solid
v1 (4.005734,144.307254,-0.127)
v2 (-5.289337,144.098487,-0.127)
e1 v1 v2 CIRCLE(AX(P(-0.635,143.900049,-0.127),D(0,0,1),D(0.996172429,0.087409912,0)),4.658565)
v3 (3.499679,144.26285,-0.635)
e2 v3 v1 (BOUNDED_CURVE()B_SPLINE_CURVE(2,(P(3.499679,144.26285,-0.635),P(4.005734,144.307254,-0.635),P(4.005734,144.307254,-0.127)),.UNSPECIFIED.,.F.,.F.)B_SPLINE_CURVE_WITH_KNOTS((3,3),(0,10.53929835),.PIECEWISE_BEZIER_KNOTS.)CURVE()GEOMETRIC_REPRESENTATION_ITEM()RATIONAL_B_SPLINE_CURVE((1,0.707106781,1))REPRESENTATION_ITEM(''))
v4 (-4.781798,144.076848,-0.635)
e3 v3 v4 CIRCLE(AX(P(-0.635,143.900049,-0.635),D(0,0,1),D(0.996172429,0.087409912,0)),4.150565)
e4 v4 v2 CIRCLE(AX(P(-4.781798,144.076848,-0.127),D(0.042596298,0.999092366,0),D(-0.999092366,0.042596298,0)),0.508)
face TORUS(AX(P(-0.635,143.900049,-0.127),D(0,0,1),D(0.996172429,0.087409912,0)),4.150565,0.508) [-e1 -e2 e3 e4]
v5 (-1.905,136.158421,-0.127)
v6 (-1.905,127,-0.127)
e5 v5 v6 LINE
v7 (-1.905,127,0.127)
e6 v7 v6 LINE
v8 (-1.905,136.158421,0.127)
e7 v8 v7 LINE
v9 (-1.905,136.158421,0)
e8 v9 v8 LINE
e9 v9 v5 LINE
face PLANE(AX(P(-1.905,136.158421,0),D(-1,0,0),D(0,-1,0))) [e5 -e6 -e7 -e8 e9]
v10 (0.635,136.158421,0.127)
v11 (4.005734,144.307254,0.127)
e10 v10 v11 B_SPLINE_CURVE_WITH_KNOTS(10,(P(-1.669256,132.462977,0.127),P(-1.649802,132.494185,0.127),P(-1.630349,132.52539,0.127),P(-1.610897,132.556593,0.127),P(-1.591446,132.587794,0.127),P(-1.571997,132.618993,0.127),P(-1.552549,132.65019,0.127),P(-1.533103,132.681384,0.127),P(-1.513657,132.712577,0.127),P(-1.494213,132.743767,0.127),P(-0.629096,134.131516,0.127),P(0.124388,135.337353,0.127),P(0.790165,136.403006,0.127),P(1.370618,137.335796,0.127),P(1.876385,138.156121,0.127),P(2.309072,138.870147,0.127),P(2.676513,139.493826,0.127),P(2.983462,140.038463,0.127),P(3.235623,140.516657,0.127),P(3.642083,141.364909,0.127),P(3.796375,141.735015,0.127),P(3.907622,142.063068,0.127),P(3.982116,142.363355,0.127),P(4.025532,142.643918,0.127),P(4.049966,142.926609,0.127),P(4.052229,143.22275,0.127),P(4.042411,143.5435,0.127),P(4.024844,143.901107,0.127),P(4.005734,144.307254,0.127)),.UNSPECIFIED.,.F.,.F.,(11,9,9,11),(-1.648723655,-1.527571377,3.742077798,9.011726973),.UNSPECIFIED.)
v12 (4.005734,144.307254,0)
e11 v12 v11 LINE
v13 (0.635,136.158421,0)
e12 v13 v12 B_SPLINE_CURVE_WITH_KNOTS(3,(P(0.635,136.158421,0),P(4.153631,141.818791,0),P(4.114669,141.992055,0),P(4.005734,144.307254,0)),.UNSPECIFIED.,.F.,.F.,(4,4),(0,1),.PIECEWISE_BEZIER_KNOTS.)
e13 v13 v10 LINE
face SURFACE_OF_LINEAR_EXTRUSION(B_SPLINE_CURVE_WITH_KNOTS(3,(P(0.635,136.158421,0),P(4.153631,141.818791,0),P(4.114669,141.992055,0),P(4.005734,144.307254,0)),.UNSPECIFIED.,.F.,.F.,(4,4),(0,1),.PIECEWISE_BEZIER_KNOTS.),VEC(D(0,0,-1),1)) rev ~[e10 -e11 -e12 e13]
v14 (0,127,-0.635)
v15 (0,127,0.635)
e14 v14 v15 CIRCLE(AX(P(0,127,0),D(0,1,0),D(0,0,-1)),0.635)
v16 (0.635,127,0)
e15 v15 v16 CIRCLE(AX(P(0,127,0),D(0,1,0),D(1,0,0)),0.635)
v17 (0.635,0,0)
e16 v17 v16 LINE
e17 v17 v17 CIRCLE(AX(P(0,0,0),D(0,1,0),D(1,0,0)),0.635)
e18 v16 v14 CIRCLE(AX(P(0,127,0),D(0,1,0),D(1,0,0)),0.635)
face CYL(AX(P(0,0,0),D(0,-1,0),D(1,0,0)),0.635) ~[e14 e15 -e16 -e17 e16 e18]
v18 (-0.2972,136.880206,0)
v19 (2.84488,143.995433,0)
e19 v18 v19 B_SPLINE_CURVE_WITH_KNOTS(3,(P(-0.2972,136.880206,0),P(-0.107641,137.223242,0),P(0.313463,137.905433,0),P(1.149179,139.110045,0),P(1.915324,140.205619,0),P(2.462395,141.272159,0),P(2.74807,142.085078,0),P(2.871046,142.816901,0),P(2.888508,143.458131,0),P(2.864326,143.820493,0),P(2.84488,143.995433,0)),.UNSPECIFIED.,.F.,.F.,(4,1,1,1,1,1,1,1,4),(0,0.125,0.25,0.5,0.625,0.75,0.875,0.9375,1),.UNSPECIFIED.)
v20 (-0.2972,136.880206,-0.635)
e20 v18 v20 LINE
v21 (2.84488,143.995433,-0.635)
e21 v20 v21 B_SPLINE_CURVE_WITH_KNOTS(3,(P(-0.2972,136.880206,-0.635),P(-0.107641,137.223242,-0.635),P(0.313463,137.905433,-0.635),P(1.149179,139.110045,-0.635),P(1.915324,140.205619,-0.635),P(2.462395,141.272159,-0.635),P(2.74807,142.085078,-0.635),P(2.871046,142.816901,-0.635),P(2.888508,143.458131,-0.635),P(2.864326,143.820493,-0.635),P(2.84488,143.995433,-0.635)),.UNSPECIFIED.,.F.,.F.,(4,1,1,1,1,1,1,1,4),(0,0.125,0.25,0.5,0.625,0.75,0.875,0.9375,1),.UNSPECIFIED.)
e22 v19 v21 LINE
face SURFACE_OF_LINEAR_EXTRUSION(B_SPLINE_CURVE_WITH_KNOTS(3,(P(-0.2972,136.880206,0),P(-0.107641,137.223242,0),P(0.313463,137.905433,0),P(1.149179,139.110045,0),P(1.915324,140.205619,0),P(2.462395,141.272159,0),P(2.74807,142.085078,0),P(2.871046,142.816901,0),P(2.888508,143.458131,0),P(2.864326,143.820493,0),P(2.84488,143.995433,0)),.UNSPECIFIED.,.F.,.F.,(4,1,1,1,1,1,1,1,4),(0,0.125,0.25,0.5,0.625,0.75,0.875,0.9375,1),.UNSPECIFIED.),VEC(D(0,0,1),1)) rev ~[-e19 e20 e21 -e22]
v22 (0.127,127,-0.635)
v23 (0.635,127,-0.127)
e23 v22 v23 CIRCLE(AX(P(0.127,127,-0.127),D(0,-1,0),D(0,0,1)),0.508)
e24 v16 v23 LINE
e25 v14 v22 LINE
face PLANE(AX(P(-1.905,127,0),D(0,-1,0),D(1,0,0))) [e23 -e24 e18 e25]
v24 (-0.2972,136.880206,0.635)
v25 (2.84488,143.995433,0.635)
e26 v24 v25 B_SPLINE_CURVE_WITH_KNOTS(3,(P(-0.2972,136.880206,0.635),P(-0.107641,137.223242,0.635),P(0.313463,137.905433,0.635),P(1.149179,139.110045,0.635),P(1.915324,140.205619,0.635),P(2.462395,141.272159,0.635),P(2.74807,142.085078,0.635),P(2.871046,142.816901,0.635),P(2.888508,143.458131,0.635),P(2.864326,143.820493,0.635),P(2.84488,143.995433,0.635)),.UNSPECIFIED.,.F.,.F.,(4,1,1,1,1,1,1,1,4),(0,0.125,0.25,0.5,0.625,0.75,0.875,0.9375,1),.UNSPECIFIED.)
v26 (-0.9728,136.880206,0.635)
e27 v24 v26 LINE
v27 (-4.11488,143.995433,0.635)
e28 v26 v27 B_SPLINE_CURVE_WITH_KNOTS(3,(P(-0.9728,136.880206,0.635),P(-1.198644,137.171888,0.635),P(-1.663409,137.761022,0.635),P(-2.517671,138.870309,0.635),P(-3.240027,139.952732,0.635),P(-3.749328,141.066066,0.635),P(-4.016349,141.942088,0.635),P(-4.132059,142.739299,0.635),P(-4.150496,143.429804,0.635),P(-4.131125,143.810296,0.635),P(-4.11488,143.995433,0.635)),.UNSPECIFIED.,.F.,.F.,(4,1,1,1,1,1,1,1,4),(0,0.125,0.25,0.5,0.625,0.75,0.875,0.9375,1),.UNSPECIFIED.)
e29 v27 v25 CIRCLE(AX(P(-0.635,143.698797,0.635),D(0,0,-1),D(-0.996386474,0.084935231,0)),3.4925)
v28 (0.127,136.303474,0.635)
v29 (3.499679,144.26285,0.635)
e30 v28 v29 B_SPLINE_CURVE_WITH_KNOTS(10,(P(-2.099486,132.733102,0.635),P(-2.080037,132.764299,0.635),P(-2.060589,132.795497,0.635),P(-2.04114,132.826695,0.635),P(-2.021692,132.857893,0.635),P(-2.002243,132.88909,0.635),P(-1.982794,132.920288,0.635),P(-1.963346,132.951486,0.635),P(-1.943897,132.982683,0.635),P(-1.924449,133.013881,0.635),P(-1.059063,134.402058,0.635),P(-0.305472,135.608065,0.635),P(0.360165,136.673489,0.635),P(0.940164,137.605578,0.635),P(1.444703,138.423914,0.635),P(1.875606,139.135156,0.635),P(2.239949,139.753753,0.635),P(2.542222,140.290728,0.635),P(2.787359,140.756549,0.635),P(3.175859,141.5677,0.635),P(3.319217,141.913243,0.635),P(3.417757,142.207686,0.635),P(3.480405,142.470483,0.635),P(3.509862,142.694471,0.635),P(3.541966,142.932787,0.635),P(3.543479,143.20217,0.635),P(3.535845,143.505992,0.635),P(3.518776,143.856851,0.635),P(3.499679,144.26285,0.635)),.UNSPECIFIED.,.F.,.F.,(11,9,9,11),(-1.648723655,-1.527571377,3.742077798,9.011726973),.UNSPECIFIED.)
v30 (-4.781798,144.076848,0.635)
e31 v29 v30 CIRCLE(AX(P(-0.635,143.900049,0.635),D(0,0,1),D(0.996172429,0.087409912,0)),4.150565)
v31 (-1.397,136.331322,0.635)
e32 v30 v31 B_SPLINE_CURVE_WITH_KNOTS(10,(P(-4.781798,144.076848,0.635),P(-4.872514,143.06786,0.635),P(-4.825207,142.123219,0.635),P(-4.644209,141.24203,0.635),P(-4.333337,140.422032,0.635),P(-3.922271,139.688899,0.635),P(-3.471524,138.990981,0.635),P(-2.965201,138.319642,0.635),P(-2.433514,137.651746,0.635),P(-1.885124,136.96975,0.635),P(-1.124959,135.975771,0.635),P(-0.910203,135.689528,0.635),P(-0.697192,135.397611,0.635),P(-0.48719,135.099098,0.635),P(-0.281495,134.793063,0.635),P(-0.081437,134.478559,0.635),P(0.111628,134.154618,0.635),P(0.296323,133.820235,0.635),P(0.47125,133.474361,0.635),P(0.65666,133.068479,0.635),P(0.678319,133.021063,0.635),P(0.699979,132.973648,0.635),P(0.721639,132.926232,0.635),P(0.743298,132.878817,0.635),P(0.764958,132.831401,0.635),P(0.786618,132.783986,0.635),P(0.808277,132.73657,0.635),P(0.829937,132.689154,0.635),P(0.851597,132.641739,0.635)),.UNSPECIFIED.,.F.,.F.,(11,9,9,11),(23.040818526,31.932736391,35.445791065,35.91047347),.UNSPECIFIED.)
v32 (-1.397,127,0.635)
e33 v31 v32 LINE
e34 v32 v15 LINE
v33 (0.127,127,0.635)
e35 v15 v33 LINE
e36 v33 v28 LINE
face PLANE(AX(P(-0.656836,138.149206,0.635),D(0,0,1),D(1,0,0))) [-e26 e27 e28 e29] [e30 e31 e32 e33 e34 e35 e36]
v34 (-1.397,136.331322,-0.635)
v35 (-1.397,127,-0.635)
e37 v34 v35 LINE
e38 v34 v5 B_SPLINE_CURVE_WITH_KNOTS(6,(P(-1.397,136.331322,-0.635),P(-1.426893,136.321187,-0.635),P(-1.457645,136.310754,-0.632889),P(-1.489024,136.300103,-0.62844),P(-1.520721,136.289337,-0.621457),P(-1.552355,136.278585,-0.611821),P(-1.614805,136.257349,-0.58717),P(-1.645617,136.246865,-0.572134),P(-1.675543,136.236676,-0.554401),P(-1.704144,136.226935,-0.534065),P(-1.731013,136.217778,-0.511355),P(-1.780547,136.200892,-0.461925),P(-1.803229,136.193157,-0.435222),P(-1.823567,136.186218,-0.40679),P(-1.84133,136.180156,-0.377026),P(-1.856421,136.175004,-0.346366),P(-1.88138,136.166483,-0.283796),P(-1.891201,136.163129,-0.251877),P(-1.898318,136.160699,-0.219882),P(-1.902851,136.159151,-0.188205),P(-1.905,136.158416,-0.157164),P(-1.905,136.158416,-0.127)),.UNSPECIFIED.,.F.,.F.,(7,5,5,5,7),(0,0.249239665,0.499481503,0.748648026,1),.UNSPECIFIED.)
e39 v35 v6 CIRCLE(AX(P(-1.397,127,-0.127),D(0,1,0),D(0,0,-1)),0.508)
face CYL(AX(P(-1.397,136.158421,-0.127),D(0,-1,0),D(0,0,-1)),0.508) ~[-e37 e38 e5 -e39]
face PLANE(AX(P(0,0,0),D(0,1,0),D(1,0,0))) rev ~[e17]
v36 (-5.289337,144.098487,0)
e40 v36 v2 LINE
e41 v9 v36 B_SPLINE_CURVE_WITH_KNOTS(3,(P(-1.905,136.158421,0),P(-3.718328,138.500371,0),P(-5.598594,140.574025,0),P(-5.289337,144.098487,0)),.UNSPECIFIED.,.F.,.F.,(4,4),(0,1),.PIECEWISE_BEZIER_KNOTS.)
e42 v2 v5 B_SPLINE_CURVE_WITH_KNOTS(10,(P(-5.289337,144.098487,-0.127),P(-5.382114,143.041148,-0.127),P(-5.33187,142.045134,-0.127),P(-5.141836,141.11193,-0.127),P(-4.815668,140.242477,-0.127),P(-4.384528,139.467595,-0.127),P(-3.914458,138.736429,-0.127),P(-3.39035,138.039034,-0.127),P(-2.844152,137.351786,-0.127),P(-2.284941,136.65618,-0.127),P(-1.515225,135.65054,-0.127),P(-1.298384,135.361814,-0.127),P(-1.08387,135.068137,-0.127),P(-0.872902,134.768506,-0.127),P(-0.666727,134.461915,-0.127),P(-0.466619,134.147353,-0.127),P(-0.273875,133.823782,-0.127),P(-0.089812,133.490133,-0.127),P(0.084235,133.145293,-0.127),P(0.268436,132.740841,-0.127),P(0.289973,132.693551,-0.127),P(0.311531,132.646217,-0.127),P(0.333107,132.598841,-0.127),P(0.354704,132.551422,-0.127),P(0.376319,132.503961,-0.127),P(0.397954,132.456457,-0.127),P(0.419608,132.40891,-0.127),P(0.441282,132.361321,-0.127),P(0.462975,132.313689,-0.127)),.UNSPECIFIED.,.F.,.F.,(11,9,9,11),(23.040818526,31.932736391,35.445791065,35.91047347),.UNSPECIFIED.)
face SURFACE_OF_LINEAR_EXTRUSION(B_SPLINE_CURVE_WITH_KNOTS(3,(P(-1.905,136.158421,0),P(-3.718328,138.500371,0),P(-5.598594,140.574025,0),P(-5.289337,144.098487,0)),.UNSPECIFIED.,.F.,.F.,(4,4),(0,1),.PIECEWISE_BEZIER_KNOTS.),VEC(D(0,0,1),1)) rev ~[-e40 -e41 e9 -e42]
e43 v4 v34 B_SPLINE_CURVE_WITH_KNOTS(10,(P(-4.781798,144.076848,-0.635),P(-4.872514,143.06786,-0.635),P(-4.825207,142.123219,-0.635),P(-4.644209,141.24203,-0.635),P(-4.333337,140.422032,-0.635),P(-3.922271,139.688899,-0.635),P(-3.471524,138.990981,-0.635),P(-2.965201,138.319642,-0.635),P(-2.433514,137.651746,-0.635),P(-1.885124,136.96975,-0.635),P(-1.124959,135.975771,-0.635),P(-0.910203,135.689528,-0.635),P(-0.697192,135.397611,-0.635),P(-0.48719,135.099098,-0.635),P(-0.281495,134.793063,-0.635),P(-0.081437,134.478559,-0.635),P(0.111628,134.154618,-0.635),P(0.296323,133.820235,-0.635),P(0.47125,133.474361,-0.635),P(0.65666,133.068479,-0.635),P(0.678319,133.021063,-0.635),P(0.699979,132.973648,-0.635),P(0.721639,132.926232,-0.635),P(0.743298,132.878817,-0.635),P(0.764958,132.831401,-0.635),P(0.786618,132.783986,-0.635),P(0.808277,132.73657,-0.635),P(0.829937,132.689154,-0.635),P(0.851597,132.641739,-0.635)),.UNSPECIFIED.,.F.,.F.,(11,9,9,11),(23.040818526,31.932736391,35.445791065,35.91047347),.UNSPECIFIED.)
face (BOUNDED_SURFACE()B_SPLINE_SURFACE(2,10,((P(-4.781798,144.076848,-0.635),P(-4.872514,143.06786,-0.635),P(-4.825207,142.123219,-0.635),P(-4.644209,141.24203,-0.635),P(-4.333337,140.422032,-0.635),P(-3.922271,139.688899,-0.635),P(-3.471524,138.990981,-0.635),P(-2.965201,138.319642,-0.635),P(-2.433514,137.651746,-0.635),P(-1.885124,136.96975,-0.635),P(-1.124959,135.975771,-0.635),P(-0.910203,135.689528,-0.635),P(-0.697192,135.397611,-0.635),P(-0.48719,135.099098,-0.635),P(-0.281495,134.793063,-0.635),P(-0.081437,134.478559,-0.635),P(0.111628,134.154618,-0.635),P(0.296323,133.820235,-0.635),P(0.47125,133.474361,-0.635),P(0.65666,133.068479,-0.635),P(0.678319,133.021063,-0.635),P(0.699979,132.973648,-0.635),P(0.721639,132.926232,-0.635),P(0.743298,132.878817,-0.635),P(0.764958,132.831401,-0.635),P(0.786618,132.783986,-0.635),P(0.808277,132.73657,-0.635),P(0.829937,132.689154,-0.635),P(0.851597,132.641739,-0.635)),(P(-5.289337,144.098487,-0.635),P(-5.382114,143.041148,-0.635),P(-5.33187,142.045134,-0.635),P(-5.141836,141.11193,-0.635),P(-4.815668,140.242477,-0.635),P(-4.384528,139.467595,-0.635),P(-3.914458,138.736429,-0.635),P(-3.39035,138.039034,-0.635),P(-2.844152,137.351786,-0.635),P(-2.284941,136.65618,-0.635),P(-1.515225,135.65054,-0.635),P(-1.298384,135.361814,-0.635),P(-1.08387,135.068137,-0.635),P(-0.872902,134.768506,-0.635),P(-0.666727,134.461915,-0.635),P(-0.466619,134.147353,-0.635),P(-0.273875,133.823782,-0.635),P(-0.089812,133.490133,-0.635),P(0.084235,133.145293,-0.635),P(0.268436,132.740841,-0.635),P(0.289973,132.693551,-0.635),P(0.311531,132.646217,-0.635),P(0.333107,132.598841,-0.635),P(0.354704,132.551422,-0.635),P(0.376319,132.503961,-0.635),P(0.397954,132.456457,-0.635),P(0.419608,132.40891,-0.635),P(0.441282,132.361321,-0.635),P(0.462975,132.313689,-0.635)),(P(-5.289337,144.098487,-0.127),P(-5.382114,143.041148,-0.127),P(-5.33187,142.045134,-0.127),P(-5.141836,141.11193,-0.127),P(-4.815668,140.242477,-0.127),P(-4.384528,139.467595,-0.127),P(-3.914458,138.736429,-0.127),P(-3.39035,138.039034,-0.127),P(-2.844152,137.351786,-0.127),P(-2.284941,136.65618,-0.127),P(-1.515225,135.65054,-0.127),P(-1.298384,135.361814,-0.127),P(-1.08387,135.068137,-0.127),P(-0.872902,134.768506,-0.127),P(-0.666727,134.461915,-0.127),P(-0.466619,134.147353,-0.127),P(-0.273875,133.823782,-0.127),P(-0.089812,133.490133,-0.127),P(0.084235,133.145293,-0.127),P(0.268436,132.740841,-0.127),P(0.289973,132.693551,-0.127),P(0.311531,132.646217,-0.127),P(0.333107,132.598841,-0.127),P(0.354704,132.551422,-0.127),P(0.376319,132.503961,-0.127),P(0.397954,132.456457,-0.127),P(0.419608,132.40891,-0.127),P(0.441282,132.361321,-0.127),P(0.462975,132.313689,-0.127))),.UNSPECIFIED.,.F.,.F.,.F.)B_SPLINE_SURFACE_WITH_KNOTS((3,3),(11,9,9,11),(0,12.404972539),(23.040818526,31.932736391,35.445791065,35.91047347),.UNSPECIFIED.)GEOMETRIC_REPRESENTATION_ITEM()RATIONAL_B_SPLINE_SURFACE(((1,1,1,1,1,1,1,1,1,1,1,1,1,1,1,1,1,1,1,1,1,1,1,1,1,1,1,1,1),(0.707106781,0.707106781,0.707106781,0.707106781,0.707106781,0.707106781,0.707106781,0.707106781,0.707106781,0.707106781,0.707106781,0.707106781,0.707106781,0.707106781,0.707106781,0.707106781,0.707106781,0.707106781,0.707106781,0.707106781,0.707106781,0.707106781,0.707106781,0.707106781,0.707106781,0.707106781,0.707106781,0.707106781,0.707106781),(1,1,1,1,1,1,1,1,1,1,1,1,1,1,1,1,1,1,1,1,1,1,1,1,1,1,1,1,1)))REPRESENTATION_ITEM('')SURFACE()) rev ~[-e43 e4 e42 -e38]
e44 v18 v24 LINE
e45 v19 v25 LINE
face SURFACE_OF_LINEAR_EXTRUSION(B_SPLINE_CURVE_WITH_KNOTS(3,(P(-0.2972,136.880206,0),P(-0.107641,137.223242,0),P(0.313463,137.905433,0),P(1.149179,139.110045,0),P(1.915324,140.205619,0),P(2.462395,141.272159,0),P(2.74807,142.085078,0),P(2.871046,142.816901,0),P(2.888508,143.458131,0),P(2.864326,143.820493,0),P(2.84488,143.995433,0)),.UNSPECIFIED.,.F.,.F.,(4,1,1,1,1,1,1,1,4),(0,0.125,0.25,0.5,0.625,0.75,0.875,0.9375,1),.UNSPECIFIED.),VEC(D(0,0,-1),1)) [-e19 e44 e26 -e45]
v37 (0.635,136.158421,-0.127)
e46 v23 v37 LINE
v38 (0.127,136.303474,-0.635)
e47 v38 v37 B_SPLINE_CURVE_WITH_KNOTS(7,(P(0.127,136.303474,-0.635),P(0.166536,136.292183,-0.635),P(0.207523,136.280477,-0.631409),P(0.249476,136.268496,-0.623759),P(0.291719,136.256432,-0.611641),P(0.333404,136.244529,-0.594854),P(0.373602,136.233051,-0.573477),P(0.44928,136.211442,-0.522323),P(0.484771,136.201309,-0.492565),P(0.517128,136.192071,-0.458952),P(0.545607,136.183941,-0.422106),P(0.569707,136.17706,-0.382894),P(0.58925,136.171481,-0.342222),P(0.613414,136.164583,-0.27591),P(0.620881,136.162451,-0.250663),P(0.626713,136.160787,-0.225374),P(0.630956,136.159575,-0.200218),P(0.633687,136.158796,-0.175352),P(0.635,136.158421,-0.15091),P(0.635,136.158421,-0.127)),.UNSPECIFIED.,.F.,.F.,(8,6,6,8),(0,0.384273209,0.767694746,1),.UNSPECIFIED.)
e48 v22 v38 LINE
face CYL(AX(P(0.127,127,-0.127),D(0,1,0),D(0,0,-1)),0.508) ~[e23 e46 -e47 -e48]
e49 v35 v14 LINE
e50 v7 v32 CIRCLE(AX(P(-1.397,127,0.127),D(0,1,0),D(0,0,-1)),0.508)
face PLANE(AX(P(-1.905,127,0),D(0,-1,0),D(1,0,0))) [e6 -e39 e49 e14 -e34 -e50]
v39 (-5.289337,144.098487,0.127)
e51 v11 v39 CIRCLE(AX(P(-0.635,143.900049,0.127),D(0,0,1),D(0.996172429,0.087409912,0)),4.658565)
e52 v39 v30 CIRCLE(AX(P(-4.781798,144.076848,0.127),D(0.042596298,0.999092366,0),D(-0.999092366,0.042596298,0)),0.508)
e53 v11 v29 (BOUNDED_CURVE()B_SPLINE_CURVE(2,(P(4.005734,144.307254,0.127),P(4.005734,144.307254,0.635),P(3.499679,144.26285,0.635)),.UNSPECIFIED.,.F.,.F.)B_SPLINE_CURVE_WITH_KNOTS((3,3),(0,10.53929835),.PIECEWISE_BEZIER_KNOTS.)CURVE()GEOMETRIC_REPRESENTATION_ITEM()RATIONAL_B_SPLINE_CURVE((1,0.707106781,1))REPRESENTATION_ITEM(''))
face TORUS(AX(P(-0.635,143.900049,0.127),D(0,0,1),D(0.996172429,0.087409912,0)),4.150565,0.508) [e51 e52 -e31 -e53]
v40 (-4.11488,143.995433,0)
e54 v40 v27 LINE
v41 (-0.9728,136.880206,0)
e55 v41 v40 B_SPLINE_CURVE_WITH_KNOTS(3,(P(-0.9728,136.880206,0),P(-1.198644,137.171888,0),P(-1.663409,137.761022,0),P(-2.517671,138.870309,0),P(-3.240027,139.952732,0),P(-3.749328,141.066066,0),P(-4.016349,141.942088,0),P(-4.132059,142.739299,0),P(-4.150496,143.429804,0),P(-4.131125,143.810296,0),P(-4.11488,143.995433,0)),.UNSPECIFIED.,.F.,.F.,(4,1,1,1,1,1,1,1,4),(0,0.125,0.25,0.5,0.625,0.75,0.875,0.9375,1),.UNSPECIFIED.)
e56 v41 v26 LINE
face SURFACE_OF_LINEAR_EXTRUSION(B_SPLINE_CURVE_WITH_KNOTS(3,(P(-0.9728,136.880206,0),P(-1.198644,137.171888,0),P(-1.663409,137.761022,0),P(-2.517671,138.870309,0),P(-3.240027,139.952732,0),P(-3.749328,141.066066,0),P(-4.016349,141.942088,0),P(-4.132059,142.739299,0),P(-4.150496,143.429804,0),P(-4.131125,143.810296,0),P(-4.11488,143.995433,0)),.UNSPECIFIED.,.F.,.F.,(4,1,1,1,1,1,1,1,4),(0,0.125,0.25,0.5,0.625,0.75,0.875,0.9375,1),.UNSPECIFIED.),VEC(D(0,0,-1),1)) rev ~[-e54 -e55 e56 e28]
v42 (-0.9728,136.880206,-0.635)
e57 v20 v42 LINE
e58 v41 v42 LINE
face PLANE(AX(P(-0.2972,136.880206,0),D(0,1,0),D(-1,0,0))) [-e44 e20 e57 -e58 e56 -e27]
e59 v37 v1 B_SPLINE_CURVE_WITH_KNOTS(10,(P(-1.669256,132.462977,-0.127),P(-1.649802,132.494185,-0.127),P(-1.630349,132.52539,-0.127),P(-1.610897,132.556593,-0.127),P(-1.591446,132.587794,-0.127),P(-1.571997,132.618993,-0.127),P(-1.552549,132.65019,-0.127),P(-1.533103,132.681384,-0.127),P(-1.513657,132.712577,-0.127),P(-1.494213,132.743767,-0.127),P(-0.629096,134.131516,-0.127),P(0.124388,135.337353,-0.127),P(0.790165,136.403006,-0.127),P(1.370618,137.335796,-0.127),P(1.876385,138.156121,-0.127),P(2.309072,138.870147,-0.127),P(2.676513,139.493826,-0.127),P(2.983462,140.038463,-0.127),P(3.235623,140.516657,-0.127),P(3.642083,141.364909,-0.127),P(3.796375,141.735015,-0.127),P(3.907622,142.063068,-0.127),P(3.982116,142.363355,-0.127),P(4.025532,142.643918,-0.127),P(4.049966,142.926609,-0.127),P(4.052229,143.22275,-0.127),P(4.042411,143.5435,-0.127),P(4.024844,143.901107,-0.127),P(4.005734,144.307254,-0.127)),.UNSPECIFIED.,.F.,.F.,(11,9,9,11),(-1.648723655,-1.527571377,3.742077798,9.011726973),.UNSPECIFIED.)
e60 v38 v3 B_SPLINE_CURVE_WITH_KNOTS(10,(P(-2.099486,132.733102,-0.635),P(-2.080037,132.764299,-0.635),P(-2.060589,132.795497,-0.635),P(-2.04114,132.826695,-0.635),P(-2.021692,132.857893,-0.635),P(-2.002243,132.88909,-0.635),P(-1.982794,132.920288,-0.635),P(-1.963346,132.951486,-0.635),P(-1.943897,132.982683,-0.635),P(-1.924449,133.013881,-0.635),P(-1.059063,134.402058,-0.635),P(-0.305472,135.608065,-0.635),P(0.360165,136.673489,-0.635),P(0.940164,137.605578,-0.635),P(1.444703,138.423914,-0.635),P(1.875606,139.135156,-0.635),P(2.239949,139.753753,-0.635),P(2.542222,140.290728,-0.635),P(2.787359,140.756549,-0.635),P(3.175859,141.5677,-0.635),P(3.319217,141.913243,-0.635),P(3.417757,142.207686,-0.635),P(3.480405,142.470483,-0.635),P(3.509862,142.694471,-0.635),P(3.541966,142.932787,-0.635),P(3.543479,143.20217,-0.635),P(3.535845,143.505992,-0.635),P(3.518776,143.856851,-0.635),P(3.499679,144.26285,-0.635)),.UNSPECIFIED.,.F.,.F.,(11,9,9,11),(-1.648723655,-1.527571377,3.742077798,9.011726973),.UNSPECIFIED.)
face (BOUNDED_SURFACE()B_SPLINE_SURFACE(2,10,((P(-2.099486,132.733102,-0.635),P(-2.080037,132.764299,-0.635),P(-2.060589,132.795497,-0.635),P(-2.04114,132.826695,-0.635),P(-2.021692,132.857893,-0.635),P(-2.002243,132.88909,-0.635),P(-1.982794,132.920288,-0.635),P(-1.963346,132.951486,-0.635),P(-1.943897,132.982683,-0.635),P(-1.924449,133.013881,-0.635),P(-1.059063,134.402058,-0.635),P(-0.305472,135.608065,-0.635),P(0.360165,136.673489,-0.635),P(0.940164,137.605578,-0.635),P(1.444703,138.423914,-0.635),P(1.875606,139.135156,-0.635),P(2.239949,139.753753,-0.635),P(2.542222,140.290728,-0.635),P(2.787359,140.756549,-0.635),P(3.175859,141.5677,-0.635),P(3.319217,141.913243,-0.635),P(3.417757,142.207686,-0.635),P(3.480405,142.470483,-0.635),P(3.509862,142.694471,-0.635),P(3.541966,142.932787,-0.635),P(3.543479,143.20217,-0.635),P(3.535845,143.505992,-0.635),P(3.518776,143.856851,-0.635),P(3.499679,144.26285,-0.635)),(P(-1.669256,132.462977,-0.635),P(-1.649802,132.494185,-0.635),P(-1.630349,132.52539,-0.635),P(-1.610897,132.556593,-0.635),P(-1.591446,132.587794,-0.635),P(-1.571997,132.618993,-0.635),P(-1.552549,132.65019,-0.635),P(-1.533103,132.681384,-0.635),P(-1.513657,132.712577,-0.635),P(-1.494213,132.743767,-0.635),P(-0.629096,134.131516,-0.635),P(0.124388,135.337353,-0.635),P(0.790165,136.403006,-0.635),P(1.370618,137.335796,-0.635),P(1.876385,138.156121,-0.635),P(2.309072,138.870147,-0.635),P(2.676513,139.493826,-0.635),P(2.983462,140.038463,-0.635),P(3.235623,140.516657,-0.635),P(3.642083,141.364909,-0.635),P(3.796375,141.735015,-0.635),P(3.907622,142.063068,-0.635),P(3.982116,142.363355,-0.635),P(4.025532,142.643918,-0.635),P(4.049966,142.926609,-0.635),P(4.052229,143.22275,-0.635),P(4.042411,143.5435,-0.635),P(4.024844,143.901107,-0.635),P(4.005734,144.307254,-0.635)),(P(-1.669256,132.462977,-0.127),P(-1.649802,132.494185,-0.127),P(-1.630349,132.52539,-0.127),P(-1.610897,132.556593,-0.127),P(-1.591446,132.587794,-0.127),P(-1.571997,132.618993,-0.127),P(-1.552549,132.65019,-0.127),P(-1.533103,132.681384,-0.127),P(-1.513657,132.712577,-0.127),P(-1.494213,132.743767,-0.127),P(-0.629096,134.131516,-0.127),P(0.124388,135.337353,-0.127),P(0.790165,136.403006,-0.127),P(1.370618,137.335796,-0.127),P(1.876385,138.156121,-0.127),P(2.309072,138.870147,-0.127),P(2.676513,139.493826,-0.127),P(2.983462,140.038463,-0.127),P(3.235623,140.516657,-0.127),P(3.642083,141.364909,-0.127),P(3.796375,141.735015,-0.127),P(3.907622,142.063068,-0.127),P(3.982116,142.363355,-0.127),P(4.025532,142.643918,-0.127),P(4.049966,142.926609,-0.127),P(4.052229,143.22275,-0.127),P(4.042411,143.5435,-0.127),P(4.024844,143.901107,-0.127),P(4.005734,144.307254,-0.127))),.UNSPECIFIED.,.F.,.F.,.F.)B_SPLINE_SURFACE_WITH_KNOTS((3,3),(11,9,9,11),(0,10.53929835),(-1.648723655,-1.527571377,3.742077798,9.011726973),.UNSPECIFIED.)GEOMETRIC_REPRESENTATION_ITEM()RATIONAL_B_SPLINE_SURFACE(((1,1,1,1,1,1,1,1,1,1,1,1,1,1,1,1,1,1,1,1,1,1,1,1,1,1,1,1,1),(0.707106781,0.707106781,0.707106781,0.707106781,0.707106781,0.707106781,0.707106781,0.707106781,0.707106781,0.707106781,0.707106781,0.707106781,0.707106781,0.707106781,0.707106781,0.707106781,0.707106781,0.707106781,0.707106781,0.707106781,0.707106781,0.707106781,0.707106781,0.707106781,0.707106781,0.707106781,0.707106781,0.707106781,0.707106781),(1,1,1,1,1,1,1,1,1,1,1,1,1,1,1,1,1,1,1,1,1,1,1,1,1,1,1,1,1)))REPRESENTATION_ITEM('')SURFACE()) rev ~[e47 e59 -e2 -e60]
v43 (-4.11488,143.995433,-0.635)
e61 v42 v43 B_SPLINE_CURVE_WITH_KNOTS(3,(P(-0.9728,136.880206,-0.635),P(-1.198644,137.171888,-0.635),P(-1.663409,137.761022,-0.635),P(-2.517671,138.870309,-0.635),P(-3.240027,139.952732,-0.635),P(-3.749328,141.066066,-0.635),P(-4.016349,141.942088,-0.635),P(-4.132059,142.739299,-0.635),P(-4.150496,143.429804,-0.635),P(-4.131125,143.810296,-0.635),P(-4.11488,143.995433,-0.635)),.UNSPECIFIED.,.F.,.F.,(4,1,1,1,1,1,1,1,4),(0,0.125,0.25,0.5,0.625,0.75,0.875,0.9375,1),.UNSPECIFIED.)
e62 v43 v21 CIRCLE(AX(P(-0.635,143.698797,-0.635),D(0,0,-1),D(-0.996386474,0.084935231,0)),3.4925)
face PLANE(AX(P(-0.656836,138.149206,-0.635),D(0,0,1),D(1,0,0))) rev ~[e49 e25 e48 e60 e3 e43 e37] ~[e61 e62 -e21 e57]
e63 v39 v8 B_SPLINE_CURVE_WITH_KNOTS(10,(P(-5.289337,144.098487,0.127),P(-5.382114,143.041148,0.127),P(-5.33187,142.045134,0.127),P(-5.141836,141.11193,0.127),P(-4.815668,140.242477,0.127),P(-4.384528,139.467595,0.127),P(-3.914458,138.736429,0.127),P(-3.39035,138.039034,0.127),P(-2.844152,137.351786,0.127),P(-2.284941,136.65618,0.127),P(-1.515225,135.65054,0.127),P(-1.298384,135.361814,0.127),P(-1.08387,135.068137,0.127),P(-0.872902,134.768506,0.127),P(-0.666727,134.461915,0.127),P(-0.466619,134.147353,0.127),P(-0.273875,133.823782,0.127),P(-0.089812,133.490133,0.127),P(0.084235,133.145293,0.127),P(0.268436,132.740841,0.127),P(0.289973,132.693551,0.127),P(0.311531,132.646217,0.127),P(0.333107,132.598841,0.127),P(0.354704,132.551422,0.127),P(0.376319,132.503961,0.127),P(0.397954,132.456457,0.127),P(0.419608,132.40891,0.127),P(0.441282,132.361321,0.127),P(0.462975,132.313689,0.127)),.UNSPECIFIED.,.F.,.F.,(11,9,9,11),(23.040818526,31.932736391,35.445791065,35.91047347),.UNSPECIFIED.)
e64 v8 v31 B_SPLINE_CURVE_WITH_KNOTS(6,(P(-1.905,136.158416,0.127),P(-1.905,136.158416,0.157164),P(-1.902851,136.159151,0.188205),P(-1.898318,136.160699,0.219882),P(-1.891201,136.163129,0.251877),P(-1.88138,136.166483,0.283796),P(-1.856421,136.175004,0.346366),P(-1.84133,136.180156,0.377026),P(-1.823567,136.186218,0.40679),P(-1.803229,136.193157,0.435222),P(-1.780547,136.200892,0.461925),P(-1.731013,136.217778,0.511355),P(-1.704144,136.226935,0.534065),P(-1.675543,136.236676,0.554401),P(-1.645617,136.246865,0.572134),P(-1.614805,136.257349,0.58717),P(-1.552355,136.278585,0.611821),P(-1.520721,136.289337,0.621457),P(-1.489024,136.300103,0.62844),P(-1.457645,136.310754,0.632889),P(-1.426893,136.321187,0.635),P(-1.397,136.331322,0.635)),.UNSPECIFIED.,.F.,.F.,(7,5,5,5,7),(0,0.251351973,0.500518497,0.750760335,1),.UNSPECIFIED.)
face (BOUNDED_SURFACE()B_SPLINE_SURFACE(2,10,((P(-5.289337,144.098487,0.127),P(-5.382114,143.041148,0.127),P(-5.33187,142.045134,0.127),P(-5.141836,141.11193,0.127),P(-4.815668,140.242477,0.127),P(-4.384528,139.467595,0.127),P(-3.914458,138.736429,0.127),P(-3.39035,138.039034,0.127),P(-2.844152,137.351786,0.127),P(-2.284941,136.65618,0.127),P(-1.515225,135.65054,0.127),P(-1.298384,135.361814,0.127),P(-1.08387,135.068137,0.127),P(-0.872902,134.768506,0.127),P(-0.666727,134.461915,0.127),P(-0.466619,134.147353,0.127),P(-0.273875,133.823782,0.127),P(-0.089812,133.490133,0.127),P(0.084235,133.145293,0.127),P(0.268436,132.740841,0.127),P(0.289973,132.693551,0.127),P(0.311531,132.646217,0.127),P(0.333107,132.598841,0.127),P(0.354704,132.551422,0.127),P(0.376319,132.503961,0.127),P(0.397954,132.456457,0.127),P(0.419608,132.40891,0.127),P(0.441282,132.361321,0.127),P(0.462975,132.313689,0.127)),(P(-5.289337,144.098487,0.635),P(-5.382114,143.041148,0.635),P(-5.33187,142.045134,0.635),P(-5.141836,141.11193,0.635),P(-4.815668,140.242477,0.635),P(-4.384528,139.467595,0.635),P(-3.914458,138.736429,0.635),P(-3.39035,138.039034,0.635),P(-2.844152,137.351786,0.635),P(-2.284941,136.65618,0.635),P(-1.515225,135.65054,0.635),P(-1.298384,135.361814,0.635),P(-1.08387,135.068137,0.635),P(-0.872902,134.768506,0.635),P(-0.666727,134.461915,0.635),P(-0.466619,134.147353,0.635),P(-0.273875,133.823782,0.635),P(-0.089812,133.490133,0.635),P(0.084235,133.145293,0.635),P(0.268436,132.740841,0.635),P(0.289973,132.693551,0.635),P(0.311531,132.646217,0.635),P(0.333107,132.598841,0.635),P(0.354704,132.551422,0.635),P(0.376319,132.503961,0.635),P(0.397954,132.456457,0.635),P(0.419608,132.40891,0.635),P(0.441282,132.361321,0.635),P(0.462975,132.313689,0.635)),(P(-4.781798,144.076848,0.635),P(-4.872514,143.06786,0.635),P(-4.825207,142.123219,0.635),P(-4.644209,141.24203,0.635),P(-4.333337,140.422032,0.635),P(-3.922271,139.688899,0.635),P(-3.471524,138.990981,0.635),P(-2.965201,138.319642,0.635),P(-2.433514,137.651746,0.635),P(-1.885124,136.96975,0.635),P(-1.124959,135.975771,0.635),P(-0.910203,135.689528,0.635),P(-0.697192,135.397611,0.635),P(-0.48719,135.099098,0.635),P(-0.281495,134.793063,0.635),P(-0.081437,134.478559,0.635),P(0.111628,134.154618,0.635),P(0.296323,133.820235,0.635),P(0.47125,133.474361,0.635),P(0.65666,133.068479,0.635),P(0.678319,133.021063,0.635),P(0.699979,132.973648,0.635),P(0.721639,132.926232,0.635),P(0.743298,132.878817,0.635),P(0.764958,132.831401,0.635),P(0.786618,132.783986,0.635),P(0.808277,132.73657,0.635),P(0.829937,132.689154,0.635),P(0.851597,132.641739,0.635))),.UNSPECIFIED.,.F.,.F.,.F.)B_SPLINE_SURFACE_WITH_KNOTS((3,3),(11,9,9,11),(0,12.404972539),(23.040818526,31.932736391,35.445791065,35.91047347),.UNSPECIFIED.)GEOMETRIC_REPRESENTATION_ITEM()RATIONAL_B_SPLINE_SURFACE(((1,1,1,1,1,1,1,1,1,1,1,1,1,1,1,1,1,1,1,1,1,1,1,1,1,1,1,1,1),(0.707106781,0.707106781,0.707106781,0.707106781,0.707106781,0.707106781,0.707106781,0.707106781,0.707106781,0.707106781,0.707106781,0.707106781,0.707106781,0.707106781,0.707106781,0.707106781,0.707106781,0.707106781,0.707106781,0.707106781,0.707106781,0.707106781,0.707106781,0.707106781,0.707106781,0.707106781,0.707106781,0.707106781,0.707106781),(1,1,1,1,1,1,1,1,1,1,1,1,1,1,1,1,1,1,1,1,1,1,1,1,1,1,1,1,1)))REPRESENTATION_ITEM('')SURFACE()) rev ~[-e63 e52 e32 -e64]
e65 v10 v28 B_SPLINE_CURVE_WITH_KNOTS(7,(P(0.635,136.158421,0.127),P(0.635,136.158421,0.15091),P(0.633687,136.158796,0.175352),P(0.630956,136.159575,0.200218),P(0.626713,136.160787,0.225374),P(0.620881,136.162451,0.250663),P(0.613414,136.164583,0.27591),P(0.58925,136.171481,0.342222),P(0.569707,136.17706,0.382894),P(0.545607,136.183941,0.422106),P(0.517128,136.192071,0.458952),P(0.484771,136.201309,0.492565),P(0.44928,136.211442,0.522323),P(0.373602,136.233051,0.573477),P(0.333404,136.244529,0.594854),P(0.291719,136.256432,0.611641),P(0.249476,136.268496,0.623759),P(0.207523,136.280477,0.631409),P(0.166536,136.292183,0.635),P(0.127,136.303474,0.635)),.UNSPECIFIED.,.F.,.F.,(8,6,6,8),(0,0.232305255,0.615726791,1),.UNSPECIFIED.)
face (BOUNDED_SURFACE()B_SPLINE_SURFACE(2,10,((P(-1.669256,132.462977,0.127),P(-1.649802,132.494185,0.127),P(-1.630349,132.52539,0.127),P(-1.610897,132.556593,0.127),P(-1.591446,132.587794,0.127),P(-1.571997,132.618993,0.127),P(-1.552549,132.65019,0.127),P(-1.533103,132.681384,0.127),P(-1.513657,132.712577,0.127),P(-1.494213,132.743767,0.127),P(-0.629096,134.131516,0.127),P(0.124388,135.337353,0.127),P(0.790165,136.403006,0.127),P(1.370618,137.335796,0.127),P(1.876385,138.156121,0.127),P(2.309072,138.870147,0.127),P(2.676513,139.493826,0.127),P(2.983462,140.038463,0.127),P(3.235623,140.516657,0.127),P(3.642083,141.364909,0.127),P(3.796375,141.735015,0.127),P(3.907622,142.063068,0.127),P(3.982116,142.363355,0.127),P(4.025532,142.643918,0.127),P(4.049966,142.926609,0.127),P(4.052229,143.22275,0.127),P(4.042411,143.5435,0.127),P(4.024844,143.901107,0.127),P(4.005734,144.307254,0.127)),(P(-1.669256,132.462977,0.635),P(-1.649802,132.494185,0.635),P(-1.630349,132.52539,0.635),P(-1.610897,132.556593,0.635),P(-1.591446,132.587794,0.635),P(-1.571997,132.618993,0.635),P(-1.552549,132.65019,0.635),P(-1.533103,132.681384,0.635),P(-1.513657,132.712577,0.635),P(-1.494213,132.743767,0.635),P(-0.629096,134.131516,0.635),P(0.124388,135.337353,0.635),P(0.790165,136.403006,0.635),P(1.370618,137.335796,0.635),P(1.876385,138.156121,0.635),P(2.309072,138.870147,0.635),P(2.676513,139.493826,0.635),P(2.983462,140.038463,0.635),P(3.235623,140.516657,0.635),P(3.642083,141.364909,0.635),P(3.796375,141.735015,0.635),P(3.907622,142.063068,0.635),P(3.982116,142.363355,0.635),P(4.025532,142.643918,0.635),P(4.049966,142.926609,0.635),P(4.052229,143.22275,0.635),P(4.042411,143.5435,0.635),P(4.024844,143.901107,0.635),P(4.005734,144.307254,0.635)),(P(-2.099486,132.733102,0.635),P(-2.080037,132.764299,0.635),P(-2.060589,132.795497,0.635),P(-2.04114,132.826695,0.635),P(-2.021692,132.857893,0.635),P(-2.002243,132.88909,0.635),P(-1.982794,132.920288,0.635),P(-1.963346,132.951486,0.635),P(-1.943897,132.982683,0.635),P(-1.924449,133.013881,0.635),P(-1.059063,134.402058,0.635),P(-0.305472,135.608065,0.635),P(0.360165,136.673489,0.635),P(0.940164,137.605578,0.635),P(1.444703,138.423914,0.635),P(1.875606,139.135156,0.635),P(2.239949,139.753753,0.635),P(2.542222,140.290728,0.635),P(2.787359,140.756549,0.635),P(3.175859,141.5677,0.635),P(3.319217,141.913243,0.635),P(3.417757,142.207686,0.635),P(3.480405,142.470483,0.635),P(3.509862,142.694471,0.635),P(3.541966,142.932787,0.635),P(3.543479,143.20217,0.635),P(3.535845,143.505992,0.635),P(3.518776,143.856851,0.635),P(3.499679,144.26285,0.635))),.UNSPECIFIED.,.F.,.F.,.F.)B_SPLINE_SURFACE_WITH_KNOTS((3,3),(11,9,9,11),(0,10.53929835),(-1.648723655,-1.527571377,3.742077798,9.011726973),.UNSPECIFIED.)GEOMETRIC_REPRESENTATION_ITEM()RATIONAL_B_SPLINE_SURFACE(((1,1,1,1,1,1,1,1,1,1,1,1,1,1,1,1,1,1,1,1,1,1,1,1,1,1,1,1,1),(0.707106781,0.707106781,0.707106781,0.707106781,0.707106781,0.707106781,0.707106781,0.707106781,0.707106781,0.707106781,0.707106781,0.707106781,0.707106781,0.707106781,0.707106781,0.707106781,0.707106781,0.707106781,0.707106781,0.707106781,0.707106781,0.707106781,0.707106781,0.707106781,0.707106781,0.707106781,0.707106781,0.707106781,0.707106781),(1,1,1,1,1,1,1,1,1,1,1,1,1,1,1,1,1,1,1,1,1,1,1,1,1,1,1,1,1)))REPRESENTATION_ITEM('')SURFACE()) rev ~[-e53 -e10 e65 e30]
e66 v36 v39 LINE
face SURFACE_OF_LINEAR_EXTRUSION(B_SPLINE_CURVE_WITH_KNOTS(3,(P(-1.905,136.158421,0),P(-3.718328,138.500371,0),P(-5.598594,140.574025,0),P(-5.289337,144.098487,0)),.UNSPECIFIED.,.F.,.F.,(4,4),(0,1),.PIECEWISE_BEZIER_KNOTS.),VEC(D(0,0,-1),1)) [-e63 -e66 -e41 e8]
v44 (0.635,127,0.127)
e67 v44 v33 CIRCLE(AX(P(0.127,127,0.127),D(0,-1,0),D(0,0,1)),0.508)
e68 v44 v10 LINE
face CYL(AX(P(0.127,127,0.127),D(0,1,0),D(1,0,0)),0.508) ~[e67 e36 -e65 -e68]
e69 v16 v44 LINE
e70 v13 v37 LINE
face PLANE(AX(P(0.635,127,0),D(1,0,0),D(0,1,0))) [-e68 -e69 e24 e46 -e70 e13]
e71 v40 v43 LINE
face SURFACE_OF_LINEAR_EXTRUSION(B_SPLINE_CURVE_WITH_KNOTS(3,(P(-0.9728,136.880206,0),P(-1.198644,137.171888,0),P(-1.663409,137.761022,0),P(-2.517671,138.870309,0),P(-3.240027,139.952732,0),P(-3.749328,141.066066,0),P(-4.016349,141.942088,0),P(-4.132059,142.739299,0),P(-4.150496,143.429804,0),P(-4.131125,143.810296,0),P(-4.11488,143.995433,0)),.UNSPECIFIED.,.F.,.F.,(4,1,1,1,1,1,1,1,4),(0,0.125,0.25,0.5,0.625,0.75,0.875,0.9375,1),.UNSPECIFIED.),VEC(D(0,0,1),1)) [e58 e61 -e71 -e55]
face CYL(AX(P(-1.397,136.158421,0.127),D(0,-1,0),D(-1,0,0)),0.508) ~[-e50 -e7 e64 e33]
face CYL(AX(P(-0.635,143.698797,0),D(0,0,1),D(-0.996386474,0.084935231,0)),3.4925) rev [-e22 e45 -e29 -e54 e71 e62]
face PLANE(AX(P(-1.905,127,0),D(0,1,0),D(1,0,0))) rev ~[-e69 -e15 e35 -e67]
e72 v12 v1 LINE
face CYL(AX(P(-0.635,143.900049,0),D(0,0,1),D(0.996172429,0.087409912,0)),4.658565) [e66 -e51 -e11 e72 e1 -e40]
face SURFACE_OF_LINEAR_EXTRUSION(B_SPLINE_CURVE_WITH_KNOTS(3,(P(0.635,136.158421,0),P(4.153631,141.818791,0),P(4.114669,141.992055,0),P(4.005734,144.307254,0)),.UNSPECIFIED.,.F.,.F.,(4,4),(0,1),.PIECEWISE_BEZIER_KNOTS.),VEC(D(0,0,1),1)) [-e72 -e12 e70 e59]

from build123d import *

# Parameters (mm, degrees)
SKETCH1_R                = 0.635
BOSS_EXTRUDE1_DEPTH      = 127
BOSS_EXTRUDE2_DEPTH      = 0.635
BOSS_EXTRUDE2_DEPTH_BACK = 0.635
FILLET1_R                = 0.508


with BuildPart() as part:
    # Sketch1 → Boss-Extrude1 (new body)
    with BuildSketch(Plane(origin=(0, 0, 0), x_dir=(1, 0, 0), z_dir=(0, 1, 0))):
        Circle(SKETCH1_R)
    extrude(amount=BOSS_EXTRUDE1_DEPTH)

    # Sketch2 → Boss-Extrude2 (add, two sides)
    with BuildSketch(Plane.XY) as boss_extrude2_sk:
        with BuildLine():
            Line((-1.905, 127), (0.635, 127))
            Line((0.635, 127), (0.635, 136.158420865))
            add(Edge.make_bspline(
                [(0.635, 136.158420865), (4.153630903, 141.818791199), (4.114669439, 141.992054971), (4.005734255, 144.307253859)],
                knots=[0, 0, 0, 0, 1, 1, 1, 1], degree=3))
            ThreePointArc((4.005734255, 144.307253859), (-0.739604915, 148.557439765), (-5.289336973, 144.098486718))
            add(Edge.make_bspline(
                [(-1.905, 136.158420865), (-3.718327637, 138.500370735), (-5.598593588, 140.574024695), (-5.289336973, 144.098486718)],
                knots=[0, 0, 0, 0, 1, 1, 1, 1], degree=3))
            Line((-1.905, 136.158420865), (-1.905, 127))
        make_face()
        with BuildLine():
            add(Edge.make_bspline(
                [(-0.297199842, 136.880205631), (-0.107641201, 137.223242161), (0.313462848, 137.90543324), (1.149179042, 139.110045469), (1.915323622, 140.205619235), (2.462394721, 141.272158502), (2.748069771, 142.085078064), (2.871045761, 142.816900596), (2.888508164, 143.458131128), (2.864325917, 143.820492805), (2.844879762, 143.995433072)],
                knots=[0, 0, 0, 0, 0.125, 0.25, 0.5, 0.625, 0.75, 0.875, 0.9375, 1, 1, 1, 1], degree=3))
            Line((-0.297199842, 136.880205631), (-0.972800158, 136.880205631))
            add(Edge.make_bspline(
                [(-0.972800158, 136.880205631), (-1.198644094, 137.171887712), (-1.663408729, 137.76102171), (-2.517671044, 138.87030936), (-3.240026875, 139.952731811), (-3.749328451, 141.06606592), (-4.016349262, 141.942088489), (-4.13205868, 142.739298518), (-4.150496215, 143.42980398), (-4.131124798, 143.810295526), (-4.114879762, 143.995433072)],
                knots=[0, 0, 0, 0, 0.125, 0.25, 0.5, 0.625, 0.75, 0.875, 0.9375, 1, 1, 1, 1], degree=3))
            ThreePointArc((-4.114879762, 143.995433072), (-0.635, 147.191296776), (2.844879762, 143.995433072))
        make_face(mode=Mode.SUBTRACT)
    extrude(amount=BOSS_EXTRUDE2_DEPTH)
    extrude(boss_extrude2_sk.sketch, amount=-BOSS_EXTRUDE2_DEPTH_BACK)

    # Fillet1
    fillet1_edges = [part.edges().sort_by_distance(p)[0] for p in [
        (-0.739604915, 148.557439765, -0.635),
        (0.635, 131.579210433, 0.635),
        (-0.739604915, 148.557439765, 0.635),
        (-1.905, 131.579210433, -0.635),
        (-1.905, 131.579210433, 0.635),
        (0.635, 131.579210433, -0.635),
    ]]
    fillet(fillet1_edges, radius=FILLET1_R)


solid = part.part
